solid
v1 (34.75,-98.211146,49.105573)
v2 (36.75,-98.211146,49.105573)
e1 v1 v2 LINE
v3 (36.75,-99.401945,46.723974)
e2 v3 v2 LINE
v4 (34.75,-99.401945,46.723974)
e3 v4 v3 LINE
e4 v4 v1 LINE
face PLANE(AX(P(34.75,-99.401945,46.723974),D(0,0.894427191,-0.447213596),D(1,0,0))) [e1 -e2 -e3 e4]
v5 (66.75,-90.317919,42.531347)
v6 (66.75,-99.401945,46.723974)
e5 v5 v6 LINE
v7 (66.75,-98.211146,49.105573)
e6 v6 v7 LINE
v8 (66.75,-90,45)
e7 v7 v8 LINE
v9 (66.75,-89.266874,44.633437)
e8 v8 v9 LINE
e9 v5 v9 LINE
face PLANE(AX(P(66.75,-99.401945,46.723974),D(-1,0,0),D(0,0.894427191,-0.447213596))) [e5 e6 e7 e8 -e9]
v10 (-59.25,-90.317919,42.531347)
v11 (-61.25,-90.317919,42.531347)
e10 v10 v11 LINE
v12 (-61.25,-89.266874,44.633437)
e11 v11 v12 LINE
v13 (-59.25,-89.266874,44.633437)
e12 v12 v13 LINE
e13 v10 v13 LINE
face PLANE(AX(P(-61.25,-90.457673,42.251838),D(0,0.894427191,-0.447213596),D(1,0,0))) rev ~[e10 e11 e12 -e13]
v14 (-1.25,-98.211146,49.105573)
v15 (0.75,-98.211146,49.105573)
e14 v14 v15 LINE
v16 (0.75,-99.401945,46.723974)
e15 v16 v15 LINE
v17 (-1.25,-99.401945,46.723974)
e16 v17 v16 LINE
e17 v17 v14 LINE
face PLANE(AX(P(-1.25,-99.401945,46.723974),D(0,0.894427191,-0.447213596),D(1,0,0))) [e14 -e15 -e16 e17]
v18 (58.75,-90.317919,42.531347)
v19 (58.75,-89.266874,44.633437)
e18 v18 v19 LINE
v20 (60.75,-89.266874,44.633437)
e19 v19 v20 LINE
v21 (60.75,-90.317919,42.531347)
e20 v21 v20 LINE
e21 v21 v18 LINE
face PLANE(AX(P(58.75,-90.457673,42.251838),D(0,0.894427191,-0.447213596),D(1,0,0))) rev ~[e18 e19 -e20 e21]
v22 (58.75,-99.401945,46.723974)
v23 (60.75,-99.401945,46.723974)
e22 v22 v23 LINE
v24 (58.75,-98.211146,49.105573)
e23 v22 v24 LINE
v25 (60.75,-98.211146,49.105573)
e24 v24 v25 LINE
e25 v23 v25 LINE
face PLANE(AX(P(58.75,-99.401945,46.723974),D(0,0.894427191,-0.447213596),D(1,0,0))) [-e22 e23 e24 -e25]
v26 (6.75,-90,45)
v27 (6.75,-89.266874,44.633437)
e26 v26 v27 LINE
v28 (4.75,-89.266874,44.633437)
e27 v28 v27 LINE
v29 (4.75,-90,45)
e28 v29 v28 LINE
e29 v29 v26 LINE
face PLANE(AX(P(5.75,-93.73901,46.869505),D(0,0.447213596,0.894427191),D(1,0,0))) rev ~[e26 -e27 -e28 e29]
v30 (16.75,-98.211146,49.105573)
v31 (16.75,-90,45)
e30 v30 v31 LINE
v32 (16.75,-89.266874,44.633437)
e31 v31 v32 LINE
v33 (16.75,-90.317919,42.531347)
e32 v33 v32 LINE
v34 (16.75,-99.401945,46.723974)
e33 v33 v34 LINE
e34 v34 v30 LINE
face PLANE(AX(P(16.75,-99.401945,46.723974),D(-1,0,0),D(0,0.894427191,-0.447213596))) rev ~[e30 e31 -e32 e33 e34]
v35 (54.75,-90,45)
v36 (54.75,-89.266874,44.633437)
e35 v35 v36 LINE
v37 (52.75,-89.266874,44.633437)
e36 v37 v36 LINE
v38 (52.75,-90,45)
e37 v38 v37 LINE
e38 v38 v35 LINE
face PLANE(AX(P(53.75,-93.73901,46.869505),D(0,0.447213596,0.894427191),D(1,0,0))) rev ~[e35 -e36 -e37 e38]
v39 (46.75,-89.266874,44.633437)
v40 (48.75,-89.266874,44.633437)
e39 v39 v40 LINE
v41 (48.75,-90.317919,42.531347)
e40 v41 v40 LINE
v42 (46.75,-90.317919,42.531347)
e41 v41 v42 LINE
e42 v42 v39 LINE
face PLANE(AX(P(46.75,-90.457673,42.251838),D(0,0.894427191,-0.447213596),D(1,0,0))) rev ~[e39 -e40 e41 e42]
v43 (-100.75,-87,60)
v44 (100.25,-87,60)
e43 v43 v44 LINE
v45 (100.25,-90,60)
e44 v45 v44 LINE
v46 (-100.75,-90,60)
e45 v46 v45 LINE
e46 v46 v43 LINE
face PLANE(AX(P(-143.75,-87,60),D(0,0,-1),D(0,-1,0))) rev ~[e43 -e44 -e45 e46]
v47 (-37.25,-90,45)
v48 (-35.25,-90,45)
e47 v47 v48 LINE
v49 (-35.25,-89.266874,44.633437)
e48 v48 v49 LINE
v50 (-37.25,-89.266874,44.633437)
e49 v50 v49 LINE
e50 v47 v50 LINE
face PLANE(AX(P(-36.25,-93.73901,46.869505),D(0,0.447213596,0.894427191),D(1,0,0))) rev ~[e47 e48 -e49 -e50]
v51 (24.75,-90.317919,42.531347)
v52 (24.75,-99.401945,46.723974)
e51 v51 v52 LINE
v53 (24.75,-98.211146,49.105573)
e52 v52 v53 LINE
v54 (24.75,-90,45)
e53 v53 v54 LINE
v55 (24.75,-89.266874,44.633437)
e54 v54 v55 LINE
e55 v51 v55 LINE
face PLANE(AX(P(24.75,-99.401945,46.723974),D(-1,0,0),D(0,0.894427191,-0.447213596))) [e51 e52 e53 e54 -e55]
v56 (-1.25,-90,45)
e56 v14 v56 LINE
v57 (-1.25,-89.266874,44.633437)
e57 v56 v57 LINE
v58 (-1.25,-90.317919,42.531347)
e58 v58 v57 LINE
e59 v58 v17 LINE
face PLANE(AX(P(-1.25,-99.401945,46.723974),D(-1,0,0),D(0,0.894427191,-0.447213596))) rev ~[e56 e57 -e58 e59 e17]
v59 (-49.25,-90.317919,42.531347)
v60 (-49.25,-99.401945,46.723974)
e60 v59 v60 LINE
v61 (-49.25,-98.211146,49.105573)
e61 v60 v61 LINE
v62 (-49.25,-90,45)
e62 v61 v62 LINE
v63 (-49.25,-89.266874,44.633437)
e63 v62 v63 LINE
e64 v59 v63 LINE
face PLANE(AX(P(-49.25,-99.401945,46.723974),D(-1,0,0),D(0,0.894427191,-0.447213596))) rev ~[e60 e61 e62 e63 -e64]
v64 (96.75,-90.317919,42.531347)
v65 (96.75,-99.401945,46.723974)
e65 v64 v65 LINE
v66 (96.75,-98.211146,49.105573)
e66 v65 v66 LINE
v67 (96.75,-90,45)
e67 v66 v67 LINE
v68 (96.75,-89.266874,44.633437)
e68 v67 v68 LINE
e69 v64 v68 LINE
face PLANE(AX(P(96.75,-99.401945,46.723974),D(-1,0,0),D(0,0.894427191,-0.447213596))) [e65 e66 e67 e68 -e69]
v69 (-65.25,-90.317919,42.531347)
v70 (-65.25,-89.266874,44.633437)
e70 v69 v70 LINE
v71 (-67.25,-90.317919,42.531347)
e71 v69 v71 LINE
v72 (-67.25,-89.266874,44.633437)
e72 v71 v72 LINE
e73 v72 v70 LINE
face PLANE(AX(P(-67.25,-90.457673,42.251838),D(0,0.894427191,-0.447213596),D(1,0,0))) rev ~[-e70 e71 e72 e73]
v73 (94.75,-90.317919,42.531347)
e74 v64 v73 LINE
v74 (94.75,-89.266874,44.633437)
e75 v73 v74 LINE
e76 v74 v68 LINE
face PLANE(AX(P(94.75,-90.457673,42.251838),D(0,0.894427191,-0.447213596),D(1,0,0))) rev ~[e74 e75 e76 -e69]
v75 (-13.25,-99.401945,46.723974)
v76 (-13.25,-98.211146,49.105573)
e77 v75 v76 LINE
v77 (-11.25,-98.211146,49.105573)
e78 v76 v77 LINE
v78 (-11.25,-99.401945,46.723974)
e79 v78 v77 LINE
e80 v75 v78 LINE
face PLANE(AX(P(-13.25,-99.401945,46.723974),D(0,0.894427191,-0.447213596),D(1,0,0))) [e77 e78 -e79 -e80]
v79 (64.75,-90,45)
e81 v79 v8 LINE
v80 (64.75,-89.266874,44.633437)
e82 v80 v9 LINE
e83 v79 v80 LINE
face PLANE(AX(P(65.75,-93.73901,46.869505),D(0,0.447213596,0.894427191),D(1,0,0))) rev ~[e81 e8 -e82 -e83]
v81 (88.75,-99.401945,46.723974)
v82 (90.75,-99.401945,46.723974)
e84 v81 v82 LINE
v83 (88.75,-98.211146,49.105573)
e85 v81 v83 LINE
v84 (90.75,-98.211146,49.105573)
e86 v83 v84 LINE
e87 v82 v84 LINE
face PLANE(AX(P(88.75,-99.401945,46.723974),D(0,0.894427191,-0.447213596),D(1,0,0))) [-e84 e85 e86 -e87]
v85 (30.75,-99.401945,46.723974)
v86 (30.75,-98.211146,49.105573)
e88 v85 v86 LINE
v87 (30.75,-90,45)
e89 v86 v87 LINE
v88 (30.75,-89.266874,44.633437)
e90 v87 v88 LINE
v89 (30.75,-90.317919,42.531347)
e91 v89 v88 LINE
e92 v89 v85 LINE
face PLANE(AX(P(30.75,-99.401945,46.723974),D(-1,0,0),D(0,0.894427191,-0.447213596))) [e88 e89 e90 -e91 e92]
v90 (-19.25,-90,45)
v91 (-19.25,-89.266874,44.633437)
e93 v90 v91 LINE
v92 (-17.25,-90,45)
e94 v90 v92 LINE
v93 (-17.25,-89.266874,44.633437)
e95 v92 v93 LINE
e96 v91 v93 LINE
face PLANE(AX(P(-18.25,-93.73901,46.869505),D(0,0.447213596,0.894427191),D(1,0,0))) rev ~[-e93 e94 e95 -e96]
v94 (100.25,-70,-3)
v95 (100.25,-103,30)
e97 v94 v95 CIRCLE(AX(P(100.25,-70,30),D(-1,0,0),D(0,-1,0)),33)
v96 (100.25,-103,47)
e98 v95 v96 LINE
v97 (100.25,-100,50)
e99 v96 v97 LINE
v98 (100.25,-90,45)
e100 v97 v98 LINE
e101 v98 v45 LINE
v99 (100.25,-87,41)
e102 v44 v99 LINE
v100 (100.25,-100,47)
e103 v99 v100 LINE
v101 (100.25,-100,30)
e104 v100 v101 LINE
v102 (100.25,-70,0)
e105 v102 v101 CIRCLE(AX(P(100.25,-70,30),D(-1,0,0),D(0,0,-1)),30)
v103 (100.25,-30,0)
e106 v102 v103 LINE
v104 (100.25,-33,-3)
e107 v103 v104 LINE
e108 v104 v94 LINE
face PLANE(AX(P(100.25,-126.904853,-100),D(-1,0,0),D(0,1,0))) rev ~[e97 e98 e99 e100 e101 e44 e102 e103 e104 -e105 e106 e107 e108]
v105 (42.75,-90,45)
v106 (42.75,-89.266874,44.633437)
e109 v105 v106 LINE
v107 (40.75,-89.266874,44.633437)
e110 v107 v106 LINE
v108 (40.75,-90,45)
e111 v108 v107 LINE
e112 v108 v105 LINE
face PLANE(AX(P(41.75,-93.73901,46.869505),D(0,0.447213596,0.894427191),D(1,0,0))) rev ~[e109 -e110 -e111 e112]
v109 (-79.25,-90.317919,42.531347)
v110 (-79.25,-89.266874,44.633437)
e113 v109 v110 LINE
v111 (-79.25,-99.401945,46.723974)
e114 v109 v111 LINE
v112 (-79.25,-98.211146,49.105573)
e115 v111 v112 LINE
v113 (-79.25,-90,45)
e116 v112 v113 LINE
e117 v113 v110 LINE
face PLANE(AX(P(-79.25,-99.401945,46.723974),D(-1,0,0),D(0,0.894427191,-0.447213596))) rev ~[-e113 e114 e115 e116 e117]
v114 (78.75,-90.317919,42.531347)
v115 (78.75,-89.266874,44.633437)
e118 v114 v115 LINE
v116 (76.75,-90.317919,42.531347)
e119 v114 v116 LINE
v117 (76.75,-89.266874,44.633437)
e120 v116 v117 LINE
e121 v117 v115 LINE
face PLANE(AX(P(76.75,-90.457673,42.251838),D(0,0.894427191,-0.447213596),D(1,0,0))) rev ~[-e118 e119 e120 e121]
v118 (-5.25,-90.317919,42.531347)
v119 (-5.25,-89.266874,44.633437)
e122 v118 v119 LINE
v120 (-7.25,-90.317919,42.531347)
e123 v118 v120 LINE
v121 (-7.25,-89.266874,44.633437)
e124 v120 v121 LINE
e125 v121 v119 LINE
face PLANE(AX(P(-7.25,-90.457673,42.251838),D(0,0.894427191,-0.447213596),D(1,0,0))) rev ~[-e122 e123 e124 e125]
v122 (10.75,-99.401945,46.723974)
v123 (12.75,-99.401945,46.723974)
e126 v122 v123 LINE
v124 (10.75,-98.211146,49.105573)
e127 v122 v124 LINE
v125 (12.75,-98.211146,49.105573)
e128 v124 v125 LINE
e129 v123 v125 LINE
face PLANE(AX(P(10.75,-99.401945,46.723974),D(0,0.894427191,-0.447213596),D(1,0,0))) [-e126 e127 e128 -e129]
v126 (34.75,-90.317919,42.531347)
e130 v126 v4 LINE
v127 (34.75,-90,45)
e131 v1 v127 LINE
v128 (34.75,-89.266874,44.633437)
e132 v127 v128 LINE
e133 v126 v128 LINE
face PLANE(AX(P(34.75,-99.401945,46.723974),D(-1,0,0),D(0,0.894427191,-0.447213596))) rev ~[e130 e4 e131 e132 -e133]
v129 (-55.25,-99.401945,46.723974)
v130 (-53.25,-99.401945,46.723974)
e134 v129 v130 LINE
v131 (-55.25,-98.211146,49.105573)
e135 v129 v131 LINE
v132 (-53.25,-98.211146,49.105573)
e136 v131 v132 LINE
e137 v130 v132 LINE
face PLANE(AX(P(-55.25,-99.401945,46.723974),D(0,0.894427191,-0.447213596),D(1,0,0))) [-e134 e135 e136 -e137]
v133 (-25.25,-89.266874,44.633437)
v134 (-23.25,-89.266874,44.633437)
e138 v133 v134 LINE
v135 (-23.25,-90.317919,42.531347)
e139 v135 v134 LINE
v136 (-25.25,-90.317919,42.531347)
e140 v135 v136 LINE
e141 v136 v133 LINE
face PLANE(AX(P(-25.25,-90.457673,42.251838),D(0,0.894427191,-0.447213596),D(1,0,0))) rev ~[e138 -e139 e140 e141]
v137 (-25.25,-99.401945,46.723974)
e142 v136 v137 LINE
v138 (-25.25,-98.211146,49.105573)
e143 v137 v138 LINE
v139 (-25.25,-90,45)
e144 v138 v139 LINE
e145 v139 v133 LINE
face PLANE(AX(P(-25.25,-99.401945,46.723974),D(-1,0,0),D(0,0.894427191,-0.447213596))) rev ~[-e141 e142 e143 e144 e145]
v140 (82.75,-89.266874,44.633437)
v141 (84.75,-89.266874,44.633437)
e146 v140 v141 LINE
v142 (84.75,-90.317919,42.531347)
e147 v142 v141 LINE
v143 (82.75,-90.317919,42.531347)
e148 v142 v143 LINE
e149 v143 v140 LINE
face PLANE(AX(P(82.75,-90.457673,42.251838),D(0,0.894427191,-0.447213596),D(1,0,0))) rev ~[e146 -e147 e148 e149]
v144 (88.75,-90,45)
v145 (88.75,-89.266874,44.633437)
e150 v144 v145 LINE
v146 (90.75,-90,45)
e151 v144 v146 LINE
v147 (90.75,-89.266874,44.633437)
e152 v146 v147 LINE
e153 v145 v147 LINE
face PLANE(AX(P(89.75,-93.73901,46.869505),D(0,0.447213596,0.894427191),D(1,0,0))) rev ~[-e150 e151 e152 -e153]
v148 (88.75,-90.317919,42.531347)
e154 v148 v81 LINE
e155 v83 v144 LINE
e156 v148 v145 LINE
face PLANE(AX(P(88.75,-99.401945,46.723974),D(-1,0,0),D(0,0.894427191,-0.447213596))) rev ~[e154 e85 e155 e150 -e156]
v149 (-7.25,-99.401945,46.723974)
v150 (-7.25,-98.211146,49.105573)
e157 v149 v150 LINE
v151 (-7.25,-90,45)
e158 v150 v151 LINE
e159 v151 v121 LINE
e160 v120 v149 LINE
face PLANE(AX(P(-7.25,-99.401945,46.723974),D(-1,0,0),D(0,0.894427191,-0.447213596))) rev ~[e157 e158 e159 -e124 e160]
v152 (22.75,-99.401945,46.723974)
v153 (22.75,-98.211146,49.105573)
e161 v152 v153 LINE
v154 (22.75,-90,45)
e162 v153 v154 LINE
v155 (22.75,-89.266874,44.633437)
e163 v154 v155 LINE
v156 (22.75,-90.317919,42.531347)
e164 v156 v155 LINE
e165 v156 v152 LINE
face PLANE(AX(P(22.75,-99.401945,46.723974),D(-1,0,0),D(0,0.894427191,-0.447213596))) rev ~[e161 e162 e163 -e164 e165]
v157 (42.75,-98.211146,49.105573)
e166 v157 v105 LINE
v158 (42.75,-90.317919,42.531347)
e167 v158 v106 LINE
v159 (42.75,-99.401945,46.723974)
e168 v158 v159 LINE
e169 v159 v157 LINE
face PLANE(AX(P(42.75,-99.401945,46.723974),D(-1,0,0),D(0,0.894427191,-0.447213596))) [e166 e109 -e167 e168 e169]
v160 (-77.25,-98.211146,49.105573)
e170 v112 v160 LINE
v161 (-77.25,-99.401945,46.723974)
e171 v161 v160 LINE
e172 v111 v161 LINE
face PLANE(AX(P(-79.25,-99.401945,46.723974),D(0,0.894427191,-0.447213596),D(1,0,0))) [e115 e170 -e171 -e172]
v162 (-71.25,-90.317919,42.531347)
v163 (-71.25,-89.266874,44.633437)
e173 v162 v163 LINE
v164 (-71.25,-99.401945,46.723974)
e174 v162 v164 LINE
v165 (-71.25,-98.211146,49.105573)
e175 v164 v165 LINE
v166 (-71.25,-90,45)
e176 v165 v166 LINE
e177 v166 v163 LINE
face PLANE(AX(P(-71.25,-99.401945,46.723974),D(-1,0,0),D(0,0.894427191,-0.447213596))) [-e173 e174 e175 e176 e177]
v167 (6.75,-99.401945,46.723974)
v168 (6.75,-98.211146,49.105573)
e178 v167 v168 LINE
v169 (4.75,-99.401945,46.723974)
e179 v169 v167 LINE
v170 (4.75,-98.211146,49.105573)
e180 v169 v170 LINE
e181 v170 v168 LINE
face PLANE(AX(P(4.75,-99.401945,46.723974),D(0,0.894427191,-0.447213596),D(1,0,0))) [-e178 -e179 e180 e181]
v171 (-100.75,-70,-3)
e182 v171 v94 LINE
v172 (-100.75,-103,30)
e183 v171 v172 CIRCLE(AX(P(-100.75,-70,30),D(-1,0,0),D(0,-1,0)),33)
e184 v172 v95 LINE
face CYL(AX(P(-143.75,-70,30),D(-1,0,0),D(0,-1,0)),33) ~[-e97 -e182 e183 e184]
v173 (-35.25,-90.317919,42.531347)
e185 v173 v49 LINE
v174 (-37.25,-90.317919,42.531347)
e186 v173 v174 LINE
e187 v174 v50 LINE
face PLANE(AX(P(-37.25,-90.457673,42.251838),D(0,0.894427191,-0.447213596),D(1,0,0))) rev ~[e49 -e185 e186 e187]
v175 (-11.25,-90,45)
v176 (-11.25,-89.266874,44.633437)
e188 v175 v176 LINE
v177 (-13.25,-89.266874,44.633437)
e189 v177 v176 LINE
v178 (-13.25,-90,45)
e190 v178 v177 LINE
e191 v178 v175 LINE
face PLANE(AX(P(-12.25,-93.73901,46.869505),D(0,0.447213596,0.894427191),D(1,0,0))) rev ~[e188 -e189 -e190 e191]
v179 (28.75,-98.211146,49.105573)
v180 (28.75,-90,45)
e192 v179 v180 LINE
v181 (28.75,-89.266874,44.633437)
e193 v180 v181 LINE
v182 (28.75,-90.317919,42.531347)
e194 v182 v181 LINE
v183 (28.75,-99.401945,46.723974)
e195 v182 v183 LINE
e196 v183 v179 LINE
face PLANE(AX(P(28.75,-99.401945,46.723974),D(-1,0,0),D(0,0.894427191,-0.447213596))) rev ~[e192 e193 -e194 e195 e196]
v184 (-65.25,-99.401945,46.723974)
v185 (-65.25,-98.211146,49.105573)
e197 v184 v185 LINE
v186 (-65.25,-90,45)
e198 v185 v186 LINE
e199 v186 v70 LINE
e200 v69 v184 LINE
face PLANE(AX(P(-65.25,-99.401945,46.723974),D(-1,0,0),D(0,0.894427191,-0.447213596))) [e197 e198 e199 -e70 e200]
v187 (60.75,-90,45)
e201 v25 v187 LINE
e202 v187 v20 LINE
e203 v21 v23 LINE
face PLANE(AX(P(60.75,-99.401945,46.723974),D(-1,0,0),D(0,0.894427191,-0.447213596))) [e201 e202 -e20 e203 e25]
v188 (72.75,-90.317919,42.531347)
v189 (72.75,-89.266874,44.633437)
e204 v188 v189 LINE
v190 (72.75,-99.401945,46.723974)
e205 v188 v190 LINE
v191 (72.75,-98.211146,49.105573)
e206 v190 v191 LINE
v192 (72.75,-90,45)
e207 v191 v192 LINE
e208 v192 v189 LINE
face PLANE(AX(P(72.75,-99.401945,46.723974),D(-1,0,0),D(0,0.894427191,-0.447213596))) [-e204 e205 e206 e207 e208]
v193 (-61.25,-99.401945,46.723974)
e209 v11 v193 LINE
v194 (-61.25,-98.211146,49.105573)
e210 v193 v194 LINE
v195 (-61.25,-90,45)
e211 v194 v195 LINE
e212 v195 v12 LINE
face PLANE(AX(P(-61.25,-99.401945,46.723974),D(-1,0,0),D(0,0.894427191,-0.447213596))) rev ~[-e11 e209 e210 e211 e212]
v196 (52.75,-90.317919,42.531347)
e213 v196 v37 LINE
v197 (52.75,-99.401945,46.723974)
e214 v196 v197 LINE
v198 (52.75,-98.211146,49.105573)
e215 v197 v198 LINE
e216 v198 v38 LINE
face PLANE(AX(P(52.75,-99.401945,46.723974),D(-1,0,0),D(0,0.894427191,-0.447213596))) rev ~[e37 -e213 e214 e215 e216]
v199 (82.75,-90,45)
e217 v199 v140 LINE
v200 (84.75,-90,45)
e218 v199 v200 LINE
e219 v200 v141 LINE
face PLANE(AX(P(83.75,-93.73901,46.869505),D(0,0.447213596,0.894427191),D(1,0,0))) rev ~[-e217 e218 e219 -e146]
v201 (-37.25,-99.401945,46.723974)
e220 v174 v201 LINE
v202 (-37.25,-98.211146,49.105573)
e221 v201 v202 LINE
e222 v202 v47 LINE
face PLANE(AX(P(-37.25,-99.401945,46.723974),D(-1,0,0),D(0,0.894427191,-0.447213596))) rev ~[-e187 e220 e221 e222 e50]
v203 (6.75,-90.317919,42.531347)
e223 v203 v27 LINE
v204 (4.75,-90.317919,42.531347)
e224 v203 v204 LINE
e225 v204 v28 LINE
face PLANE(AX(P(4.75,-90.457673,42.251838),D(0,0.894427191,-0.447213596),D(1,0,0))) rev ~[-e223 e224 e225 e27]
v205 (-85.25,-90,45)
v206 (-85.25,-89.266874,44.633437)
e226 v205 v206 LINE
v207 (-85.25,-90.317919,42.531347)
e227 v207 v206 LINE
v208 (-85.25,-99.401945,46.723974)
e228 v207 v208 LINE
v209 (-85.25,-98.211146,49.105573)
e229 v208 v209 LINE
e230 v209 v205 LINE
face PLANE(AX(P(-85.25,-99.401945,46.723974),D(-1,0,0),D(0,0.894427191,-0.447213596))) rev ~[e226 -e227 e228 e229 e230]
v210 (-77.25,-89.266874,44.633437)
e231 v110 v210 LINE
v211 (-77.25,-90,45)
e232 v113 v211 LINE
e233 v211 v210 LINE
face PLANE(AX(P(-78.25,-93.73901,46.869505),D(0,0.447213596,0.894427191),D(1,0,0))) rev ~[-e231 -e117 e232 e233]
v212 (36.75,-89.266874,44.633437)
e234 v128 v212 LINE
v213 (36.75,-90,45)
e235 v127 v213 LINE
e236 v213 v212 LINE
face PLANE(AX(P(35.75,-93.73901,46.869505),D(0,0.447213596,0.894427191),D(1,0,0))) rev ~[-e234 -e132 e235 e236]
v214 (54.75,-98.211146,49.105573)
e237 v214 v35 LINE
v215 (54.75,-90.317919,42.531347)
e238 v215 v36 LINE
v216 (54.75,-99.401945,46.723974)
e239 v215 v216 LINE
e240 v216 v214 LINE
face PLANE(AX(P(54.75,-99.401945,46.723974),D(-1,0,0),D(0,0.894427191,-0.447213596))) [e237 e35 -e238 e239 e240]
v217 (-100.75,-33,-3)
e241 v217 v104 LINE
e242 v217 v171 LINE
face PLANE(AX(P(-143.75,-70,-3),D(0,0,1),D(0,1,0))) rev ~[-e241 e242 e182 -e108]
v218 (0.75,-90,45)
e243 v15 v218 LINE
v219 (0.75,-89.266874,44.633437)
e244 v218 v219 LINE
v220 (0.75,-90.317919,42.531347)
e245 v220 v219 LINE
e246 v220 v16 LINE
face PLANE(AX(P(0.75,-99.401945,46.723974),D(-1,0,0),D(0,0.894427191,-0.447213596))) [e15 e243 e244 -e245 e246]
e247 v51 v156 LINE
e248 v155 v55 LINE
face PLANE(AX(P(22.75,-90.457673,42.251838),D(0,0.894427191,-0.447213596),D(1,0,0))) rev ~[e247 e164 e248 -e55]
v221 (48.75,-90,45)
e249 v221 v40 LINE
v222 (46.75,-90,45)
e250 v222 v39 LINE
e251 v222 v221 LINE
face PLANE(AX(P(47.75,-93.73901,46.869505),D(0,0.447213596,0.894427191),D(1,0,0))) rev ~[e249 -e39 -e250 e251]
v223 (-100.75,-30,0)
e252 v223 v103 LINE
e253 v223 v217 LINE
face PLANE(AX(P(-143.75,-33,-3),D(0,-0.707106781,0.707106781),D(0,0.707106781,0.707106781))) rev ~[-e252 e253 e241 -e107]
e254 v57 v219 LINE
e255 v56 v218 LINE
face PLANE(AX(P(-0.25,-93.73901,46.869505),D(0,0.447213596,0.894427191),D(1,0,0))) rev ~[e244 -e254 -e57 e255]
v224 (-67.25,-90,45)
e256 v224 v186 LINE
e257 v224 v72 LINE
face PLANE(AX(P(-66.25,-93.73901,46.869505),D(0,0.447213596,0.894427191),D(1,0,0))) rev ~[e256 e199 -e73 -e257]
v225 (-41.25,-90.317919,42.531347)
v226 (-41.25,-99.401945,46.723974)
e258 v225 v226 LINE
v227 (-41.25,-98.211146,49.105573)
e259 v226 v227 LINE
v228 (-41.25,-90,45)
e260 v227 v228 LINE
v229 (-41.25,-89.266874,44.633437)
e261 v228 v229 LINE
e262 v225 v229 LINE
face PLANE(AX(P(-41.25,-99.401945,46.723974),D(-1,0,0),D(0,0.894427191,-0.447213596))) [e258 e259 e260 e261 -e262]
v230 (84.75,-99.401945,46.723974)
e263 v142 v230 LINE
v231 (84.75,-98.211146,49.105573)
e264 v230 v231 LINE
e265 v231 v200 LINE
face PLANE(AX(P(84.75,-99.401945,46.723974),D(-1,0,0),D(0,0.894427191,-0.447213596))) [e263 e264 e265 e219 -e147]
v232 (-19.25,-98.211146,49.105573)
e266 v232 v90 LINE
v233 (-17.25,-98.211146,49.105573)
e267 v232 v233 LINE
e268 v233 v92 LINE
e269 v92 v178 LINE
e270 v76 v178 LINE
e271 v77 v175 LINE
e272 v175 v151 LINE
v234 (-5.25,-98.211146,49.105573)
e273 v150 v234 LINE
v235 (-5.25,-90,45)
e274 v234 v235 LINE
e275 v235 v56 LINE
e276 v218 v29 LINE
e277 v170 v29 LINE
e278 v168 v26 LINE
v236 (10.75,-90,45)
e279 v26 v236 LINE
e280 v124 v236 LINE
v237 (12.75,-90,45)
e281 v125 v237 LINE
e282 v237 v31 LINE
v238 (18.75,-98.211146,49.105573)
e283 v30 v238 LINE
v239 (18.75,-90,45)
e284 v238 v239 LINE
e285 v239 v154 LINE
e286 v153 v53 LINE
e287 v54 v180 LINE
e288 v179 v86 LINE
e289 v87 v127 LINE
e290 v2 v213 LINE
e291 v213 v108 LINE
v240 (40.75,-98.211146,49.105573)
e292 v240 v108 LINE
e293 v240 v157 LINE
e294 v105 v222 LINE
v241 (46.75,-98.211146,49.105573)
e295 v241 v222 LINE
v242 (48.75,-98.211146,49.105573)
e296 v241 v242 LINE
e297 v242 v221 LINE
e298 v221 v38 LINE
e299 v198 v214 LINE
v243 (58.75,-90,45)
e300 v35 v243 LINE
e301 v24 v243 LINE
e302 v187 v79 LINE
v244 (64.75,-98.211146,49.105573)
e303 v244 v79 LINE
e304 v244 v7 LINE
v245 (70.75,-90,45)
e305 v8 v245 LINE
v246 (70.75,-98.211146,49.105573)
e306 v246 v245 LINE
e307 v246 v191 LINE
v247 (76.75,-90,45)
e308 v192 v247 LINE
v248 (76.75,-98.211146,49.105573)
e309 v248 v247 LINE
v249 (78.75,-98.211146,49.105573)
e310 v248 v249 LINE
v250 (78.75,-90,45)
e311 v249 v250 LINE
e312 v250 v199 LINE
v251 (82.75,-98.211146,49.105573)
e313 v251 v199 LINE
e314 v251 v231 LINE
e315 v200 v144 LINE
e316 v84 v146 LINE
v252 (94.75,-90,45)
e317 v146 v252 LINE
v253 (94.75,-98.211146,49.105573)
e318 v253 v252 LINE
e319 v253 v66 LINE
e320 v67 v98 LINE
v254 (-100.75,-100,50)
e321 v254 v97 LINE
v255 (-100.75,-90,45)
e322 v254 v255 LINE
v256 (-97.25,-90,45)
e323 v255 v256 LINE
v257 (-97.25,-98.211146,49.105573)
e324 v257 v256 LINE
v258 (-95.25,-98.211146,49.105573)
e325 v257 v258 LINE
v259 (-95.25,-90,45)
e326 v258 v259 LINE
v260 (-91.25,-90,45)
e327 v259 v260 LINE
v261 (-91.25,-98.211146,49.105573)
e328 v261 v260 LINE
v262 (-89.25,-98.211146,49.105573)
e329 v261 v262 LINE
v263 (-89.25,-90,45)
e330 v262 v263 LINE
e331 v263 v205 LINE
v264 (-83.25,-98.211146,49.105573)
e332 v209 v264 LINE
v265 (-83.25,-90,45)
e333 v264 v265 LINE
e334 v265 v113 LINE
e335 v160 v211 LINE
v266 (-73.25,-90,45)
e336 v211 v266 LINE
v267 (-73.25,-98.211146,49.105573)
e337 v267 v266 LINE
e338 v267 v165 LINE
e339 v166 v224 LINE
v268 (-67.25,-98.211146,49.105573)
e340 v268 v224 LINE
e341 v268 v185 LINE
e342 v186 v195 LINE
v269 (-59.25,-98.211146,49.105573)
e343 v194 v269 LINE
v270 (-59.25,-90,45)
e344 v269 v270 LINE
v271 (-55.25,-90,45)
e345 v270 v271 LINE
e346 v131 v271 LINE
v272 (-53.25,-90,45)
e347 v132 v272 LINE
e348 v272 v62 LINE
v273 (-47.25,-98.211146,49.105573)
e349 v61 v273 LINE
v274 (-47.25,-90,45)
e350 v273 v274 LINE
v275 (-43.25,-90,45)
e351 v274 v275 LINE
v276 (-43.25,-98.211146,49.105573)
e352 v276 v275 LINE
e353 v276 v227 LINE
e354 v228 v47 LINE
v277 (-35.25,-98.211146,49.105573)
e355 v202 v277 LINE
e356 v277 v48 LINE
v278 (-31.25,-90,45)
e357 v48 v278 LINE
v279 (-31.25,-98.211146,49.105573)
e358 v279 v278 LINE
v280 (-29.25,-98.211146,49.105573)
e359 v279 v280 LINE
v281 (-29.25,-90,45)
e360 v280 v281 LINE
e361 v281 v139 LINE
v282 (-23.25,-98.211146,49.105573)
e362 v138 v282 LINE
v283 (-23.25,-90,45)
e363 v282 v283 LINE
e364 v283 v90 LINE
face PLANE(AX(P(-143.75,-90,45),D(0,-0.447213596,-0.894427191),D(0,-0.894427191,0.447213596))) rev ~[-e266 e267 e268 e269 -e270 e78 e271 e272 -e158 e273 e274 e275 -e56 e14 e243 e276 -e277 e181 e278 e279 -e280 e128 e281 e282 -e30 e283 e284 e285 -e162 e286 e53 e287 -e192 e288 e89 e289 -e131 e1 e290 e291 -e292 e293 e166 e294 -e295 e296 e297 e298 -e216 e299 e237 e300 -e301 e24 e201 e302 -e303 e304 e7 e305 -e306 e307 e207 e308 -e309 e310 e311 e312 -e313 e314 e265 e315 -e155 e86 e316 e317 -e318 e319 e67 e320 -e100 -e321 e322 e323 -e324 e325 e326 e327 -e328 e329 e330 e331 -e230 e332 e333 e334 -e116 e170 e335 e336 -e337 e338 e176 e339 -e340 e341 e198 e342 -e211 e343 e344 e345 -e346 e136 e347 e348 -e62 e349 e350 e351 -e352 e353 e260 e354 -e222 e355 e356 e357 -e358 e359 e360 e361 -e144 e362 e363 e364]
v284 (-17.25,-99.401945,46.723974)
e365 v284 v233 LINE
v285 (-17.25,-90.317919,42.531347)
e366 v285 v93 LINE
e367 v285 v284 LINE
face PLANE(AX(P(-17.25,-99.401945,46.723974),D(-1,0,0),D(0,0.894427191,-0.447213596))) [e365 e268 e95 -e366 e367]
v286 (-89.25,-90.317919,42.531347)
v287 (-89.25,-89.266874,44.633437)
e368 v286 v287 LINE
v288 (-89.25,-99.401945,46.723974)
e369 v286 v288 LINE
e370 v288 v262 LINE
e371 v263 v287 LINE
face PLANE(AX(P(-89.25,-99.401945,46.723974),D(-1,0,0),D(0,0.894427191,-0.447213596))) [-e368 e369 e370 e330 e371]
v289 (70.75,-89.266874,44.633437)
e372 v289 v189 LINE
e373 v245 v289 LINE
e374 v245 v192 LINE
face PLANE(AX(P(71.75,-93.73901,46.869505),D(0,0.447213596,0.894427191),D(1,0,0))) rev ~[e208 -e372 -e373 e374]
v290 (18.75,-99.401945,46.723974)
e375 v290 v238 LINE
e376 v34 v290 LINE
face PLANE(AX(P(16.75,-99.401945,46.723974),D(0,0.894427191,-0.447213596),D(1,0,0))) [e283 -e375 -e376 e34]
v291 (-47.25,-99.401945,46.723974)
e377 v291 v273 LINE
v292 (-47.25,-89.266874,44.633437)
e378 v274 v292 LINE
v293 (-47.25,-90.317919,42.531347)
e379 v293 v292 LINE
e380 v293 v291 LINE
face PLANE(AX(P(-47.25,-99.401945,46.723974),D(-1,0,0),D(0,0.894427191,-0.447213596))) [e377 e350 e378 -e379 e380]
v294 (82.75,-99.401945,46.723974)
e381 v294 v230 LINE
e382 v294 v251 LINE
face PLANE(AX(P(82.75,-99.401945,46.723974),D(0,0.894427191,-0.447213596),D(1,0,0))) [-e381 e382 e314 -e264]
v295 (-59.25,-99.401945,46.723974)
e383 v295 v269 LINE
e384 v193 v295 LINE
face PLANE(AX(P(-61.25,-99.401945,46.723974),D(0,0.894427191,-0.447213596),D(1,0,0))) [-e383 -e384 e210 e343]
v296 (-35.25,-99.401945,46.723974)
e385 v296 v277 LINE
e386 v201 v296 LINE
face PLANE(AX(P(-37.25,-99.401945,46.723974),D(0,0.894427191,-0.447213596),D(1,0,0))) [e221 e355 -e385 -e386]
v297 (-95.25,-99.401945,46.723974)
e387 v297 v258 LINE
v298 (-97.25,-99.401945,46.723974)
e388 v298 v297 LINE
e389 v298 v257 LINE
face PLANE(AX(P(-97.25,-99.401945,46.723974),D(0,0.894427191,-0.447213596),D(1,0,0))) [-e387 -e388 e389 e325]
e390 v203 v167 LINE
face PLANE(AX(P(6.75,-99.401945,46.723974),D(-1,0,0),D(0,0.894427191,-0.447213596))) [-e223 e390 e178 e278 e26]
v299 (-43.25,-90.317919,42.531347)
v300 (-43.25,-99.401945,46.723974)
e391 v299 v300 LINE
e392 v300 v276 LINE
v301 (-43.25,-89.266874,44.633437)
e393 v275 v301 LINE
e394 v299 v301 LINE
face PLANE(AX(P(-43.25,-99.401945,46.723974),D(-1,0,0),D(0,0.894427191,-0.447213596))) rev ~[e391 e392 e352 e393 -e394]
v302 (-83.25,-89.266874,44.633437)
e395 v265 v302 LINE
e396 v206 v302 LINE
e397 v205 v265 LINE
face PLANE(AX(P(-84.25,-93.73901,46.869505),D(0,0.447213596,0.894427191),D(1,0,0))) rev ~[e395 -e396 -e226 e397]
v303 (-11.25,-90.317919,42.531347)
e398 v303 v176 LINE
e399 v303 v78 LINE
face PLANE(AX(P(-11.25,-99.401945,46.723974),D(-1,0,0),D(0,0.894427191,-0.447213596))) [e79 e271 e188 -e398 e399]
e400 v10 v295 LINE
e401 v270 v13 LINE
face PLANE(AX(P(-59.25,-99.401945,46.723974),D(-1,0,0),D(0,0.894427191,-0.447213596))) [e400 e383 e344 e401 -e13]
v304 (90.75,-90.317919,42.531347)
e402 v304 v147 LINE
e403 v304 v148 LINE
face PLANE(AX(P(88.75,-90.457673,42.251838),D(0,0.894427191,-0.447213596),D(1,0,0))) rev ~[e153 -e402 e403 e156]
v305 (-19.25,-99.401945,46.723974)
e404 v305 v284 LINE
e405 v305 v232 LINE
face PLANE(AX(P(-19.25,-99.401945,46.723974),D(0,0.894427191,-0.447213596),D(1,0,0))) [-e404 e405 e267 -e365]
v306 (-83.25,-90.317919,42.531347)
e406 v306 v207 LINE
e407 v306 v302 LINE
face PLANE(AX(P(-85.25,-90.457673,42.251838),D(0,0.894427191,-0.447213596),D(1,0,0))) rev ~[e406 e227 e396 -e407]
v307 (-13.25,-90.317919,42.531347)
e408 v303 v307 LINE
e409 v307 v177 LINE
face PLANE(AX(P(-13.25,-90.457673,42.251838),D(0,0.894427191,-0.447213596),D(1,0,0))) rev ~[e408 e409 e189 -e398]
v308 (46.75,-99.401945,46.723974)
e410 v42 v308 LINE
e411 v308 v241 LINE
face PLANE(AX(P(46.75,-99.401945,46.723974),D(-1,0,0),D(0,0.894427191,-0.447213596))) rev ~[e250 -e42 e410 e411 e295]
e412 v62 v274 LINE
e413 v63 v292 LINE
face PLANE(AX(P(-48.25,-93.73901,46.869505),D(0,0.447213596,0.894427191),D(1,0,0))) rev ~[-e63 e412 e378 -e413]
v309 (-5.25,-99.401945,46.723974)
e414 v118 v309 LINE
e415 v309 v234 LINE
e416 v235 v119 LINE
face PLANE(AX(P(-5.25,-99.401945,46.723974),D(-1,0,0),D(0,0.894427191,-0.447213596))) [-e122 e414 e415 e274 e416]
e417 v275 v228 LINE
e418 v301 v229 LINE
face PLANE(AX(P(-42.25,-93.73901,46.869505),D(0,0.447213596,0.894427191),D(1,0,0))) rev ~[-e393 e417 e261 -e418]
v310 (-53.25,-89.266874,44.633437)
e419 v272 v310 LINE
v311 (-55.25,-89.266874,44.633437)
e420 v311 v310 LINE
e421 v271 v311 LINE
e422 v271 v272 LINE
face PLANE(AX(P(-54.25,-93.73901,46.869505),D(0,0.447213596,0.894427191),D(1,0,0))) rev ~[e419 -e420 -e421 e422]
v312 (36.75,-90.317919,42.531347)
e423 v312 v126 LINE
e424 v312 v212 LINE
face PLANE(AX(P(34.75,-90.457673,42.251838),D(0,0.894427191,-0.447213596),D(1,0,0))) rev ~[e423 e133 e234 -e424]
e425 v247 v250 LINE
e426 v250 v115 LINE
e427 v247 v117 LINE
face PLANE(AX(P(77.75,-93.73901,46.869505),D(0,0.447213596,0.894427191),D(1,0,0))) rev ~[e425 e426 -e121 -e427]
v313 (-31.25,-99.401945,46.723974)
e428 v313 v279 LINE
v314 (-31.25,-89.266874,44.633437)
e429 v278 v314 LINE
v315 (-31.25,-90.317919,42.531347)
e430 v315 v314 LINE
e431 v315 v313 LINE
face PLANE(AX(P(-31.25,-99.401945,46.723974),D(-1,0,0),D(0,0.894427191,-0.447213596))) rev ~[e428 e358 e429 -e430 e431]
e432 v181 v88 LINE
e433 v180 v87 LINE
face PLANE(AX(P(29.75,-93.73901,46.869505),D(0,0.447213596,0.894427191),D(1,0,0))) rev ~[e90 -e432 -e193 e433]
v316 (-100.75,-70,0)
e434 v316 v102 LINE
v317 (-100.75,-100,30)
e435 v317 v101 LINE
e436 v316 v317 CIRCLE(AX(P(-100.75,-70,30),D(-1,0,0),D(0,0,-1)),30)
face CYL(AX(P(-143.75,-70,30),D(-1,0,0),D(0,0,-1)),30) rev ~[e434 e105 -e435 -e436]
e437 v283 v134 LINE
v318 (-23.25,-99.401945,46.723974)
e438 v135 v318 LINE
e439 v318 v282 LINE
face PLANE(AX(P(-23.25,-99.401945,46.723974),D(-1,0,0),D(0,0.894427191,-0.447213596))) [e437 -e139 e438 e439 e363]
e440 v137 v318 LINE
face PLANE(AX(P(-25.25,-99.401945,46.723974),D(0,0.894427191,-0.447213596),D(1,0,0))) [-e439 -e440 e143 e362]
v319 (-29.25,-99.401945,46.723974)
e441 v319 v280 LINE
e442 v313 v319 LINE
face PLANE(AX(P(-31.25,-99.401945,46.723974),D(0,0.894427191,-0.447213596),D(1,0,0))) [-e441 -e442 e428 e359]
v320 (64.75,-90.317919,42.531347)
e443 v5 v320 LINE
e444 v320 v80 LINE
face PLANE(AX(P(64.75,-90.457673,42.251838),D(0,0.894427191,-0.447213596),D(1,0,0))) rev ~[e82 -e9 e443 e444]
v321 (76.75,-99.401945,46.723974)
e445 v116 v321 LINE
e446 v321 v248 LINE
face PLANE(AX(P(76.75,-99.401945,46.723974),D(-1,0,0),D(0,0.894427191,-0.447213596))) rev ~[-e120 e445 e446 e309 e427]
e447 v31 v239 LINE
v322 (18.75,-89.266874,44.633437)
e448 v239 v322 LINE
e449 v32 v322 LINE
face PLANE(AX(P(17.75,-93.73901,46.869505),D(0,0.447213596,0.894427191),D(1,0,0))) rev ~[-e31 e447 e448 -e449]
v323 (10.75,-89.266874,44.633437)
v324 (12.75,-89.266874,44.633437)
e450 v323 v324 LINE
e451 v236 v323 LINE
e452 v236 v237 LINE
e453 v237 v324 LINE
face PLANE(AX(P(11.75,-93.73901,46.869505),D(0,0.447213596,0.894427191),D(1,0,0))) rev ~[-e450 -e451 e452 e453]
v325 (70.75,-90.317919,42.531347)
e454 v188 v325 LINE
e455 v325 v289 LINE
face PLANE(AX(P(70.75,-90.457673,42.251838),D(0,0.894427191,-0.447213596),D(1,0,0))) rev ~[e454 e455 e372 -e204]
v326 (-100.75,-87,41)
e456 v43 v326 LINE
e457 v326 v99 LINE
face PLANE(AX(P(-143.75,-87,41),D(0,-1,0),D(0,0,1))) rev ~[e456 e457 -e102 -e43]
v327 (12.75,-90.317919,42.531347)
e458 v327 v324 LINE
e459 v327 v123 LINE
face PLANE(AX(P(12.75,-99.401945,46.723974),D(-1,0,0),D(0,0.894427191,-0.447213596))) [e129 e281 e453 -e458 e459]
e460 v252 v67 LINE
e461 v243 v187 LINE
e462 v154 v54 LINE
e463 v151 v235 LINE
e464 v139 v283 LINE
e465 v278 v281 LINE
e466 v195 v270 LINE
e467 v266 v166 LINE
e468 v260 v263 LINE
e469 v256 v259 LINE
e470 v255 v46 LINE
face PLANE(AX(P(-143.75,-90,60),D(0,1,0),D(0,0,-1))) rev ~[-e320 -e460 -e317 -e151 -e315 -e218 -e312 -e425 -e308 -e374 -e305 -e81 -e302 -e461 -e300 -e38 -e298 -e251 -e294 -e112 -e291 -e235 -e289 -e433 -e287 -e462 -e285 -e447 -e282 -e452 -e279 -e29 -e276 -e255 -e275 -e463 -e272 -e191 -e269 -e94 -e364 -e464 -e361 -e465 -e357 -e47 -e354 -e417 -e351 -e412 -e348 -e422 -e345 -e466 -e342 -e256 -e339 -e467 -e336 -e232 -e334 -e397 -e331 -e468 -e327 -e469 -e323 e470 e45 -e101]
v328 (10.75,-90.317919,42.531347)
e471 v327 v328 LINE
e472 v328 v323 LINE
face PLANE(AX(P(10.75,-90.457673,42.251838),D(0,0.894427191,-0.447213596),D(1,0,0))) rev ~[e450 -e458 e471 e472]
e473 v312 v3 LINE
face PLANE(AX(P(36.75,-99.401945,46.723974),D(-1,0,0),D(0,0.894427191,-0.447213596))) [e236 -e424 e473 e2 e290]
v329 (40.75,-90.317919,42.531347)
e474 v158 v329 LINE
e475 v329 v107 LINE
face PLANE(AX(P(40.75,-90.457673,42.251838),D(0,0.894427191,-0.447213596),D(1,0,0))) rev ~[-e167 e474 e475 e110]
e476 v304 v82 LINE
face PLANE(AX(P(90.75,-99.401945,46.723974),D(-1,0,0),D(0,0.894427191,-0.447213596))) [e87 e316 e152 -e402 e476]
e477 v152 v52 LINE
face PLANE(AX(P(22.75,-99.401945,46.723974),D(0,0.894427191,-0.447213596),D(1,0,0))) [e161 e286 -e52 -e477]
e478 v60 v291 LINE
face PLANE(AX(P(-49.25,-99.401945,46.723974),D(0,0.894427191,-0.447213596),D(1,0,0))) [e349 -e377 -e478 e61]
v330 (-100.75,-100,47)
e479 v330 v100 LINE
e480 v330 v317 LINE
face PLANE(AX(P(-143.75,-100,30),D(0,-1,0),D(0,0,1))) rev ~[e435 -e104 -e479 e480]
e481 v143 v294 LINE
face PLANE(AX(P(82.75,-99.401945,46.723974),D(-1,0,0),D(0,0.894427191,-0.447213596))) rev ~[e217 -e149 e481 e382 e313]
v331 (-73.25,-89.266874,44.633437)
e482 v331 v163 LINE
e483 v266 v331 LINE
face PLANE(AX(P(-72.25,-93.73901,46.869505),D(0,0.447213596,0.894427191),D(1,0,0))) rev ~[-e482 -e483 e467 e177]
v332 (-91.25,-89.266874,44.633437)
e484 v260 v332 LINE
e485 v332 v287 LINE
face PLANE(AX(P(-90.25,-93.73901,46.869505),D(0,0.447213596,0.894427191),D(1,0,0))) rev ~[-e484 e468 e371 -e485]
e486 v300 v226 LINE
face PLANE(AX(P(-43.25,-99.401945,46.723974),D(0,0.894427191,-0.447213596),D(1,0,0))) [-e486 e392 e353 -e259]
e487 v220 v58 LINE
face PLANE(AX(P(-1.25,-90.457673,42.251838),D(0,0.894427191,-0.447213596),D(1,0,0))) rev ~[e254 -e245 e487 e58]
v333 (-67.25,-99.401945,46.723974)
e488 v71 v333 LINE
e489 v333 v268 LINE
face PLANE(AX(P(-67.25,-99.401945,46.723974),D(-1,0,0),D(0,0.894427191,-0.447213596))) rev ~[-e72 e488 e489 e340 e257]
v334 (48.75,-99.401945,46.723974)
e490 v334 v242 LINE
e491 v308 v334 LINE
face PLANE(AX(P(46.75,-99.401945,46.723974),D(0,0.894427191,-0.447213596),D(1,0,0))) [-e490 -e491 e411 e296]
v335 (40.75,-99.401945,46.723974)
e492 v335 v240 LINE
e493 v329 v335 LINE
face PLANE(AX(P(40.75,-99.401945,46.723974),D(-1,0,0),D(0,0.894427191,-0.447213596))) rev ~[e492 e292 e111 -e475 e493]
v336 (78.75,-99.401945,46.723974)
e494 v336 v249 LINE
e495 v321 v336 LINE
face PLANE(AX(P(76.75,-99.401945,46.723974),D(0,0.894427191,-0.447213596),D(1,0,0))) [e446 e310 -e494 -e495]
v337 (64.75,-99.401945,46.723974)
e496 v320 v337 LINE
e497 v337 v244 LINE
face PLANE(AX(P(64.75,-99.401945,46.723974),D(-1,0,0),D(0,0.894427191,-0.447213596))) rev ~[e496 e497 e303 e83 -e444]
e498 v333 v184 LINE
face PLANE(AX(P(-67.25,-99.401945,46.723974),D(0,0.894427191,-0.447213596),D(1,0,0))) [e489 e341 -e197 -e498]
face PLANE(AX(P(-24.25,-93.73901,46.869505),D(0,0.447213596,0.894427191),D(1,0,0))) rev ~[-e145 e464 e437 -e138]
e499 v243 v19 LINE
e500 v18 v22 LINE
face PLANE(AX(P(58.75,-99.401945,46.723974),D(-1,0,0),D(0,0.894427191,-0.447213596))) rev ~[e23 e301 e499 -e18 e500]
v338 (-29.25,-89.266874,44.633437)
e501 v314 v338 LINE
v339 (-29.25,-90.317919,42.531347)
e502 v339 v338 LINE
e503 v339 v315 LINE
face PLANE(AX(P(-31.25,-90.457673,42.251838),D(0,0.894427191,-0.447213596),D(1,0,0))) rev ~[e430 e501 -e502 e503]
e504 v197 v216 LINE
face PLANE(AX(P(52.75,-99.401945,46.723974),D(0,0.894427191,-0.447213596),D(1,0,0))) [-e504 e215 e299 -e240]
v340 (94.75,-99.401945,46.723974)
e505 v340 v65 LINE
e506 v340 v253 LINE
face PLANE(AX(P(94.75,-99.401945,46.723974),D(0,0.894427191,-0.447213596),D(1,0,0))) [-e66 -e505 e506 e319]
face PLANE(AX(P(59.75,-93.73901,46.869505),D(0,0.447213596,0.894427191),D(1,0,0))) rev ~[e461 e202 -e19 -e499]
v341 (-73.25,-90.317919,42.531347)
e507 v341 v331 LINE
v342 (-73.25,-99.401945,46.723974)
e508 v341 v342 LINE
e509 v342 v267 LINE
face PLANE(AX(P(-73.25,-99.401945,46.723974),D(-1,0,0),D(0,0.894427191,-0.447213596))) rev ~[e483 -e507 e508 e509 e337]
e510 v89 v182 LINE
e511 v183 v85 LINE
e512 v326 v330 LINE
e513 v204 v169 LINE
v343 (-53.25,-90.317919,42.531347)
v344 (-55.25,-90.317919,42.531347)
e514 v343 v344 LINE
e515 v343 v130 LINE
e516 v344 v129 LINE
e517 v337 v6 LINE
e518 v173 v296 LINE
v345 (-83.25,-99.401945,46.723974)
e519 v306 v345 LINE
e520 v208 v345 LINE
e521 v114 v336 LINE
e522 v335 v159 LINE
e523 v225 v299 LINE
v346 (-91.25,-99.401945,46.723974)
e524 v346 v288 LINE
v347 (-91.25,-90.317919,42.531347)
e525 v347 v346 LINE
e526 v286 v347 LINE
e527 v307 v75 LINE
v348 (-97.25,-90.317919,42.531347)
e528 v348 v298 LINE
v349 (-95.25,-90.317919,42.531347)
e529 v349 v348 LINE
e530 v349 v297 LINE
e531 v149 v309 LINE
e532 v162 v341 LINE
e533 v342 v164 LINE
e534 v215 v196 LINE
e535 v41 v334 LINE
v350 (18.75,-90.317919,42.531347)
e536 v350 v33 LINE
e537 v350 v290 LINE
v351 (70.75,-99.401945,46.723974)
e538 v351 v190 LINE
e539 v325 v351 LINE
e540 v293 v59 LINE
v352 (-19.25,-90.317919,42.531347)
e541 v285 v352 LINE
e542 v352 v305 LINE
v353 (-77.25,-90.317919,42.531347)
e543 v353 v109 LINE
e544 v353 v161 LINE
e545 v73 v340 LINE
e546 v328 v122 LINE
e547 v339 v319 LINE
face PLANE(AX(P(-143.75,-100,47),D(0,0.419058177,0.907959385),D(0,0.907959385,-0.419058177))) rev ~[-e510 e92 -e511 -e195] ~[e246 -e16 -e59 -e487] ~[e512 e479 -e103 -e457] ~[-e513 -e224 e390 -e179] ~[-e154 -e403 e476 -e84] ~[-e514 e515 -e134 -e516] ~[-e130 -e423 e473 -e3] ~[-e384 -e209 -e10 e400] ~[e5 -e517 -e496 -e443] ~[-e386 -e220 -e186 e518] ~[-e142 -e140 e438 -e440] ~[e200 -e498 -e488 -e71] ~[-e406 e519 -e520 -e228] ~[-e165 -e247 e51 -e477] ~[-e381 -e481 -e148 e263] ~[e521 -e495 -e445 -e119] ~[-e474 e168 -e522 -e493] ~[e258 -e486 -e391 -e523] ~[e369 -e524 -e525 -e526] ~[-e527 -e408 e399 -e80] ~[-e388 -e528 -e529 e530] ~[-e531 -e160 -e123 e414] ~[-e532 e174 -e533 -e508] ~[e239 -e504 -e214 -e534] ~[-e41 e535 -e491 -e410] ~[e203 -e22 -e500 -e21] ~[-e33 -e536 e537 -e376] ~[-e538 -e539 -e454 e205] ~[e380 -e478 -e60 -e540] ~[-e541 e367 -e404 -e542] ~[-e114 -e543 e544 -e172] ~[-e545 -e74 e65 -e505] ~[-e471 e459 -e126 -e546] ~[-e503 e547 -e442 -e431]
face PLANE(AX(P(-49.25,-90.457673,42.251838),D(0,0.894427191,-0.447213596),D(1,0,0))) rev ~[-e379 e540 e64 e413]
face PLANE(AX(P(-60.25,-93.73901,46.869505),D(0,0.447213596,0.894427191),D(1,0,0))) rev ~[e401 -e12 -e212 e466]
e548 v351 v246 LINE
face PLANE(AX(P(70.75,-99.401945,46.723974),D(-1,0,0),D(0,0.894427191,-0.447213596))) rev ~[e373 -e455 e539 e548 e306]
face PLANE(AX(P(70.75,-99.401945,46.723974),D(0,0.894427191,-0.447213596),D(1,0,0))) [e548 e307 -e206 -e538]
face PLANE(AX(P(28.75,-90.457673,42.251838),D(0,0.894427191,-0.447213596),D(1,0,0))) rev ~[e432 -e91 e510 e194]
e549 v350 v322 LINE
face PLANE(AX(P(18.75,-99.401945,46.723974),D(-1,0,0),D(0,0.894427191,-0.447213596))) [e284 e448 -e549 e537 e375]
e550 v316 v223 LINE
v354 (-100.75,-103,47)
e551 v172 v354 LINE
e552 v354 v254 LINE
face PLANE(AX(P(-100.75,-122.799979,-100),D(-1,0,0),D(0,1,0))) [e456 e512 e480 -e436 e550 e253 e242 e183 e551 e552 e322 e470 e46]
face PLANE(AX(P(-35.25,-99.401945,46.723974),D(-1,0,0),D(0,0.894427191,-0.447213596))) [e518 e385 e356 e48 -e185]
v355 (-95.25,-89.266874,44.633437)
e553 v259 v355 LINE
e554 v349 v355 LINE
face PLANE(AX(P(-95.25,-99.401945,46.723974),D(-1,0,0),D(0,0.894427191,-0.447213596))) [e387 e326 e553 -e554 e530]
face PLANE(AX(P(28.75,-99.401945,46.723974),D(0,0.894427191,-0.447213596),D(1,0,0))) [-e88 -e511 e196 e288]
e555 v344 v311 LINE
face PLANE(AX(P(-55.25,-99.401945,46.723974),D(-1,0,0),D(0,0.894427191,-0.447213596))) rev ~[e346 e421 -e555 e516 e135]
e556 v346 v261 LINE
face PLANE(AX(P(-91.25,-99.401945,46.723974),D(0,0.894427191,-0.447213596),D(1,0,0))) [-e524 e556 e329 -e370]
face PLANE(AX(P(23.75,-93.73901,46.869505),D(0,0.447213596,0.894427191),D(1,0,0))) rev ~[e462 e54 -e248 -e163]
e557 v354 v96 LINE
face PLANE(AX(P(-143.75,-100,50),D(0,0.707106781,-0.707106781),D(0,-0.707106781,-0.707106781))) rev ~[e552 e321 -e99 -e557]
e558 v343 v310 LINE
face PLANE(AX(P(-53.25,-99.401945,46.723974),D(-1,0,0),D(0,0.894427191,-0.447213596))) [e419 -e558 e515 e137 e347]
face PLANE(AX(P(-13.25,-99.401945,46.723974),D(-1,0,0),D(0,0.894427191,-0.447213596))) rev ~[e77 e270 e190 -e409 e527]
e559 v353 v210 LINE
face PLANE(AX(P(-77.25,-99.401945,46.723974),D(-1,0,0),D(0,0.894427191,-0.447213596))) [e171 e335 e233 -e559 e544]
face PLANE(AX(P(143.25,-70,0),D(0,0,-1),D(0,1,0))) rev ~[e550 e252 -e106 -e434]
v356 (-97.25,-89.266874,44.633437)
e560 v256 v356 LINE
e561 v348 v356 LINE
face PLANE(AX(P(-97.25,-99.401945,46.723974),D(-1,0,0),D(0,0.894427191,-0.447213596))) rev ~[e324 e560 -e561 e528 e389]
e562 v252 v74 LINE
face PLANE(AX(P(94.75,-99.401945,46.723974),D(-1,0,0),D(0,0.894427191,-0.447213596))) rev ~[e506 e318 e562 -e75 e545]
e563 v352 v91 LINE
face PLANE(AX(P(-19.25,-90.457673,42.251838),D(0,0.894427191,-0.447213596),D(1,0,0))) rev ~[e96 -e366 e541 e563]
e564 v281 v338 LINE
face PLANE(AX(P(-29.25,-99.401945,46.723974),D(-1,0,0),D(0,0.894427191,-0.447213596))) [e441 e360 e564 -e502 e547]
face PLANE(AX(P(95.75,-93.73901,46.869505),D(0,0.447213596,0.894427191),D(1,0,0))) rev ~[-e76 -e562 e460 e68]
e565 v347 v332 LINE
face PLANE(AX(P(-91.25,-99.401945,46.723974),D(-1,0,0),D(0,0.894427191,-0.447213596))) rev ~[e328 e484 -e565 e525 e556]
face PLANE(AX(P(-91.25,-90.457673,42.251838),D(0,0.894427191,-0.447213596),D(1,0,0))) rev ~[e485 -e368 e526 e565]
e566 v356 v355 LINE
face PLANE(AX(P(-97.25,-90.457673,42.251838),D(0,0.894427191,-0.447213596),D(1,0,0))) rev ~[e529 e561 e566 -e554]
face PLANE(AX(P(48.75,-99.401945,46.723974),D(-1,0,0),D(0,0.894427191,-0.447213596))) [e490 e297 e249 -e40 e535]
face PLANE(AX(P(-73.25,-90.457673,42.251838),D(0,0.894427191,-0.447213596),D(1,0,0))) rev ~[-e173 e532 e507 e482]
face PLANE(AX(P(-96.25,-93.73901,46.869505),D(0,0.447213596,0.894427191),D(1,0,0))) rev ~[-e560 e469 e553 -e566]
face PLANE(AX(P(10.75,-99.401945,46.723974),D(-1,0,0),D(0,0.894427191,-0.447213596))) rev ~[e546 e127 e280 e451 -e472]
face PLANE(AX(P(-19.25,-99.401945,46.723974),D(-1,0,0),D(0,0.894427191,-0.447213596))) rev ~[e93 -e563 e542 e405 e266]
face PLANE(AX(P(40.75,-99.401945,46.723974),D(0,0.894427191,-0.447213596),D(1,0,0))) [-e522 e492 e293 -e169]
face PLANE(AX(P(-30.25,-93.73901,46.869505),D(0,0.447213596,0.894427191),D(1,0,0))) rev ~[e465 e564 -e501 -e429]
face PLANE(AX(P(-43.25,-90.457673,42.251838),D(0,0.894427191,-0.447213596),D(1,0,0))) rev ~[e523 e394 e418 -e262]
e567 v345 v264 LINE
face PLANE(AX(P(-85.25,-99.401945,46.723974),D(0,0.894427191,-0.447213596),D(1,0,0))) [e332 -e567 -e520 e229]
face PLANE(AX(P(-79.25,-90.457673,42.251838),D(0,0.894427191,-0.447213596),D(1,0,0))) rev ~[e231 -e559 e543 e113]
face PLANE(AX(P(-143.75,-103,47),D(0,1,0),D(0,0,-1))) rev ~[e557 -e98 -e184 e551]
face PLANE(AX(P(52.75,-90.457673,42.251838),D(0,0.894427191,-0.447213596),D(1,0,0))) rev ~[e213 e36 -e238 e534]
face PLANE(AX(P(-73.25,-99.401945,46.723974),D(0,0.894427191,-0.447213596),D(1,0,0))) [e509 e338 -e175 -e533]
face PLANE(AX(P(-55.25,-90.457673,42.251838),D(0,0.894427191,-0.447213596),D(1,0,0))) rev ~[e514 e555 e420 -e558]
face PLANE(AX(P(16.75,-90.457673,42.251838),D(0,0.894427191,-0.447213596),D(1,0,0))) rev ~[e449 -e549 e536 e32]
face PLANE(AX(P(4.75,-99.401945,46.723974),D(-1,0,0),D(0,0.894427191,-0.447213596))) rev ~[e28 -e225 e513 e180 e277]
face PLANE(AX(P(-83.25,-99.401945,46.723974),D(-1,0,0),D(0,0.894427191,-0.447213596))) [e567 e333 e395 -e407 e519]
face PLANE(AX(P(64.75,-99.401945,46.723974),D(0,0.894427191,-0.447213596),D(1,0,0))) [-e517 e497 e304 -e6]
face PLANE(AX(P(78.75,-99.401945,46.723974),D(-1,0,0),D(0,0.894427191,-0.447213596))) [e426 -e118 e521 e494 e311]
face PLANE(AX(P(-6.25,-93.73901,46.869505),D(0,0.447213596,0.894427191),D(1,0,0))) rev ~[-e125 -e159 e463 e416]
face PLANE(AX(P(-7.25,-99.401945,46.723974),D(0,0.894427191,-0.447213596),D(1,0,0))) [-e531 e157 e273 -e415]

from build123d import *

# Parameters (mm, degrees)
EXTRUDE_1_DEPTH          = 3
EXTRUDE_2_DEPTH          = 287
CUT_EXTRUDE_6_DEPTH      = 100
CUT_EXTRUDE_6_DEPTH_BACK = 100
SKETCH_6_W               = 73.604658964
SKETCH_6_H               = 229.904852756
SKETCH_6_W_2             = 157.433287981
SKETCH_6_H_2             = 225.799979151
SKETCH_7_W               = 3
SKETCH_7_H               = 140
CUT_EXTRUDE_7_DEPTH      = 272.560306378
CUT_EXTRUDE_START        = -2.662708
SKETCH_8_W               = 2
SKETCH_8_H               = 10
CUT_EXTRUDE_8_DEPTH      = 2.662708


with BuildPart() as part:
    # 草图1 → 凸台-拉伸1 (new body)
    with BuildSketch(Plane.XY):
        Polygon((-143.75, 30), (-143.75, 70), (-105.75, 70), (-105.75, 65), (-100.25, 65), (-100.25, 70), (99.75, 70), (99.75, 65), (105.25, 65), (105.25, 70), (143.25, 70), (143.25, 30), (135.25, 30), (135.25, -30), (143.25, -30), (143.25, -70), (105.25, -70), (105.25, -65), (99.75, -65), (99.75, -70), (-100.25, -70), (-100.25, -65), (-105.75, -65), (-105.75, -70), (-143.75, -70), (-143.75, -30), (-135.75, -30), (-135.75, 30), align=None)
    extrude(amount=EXTRUDE_1_DEPTH)

    # 草图2 → 凸台-拉伸2 (add)
    with BuildSketch(Plane.ZY.offset(143.75)):
        with BuildLine():
            Line((0, 70), (0, 30))
            Line((0, 30), (-3, 33))
            Line((-3, 33), (-3, 70))
            ThreePointArc((-3, 70), (6.665476221, 93.334523779), (30, 103))
            Line((30, 103), (47, 103))
            Line((47, 103), (50, 100))
            Line((50, 100), (45, 90))
            Line((45, 90), (60, 90))
            Line((60, 90), (60, 87))
            Line((60, 87), (41, 87))
            Line((41, 87), (47, 100))
            Line((47, 100), (30, 100))
            ThreePointArc((30, 100), (8.786796564, 91.213203436), (0, 70))
        make_face()
        with BuildLine():
            Line((30, -100), (47, -100))
            Line((47, -100), (41, -87))
            Line((41, -87), (60, -87))
            Line((60, -87), (60, -90))
            Line((60, -90), (45, -90))
            Line((45, -90), (50, -100))
            Line((50, -100), (47, -103))
            Line((47, -103), (30, -103))
            ThreePointArc((30, -103), (6.665476221, -93.334523779), (-3, -70))
            Line((-3, -70), (-3, -33))
            Line((-3, -33), (0, -30))
            Line((0, -30), (0, -70))
            ThreePointArc((0, -70), (8.786796564, -91.213203436), (30, -100))
        make_face()
    extrude(amount=-EXTRUDE_2_DEPTH)

    # 草图6 → 切除-拉伸6 (cut, two sides: drawn at the far end of the back side and taken through both)
    with BuildSketch(Plane.XY.offset(-CUT_EXTRUDE_6_DEPTH_BACK)):
        with Locations((137.052329482, -11.952426378)):
            Rectangle(SKETCH_6_W, SKETCH_6_H)
        with Locations((-179.466643991, -9.899989576)):
            Rectangle(SKETCH_6_W_2, SKETCH_6_H_2)
    extrude(amount=CUT_EXTRUDE_6_DEPTH + CUT_EXTRUDE_6_DEPTH_BACK, mode=Mode.SUBTRACT)

    # 草图7 → 切除-拉伸7 (cut, through all)
    with BuildSketch(Plane(origin=(143.25, 0, 0), x_dir=(0, 0, -1), z_dir=(1, 0, 0))):
        with Locations((-1.5, 0)):
            Rectangle(SKETCH_7_W, SKETCH_7_H)
    extrude(amount=-CUT_EXTRUDE_7_DEPTH, mode=Mode.SUBTRACT)


with BuildPart() as body_2:
    # of the pieces the cut leaves, the one that is kept (cut_extrude_7_keep)
    add(part.part.solids().sort_by_distance((-100.75, -70, 0))[0])

    # 草图8 → 切除-拉伸8 (cut)
    with BuildSketch(Plane(origin=(0, 0, 0), x_dir=(1, 0, 0), z_dir=(0, 0.4472135954999584, 0.8944271909999156)).offset(CUT_EXTRUDE_START)):
        with Locations((-96.25, -104.803398875)):
            Rectangle(SKETCH_8_W, SKETCH_8_H)
        with Locations((-90.25, -104.803398875)):
            Rectangle(SKETCH_8_W, SKETCH_8_H)
        with Locations((-84.25, -104.803398875)):
            Rectangle(SKETCH_8_W, SKETCH_8_H)
        with Locations((-78.25, -104.803398875)):
            Rectangle(SKETCH_8_W, SKETCH_8_H)
        with Locations((-72.25, -104.803398875)):
            Rectangle(SKETCH_8_W, SKETCH_8_H)
        with Locations((-66.25, -104.803398875)):
            Rectangle(SKETCH_8_W, SKETCH_8_H)
        with Locations((-60.25, -104.803398875)):
            Rectangle(SKETCH_8_W, SKETCH_8_H)
        with Locations((-54.25, -104.803398875)):
            Rectangle(SKETCH_8_W, SKETCH_8_H)
        with Locations((-48.25, -104.803398875)):
            Rectangle(SKETCH_8_W, SKETCH_8_H)
        with Locations((-42.25, -104.803398875)):
            Rectangle(SKETCH_8_W, SKETCH_8_H)
        with Locations((-36.25, -104.803398875)):
            Rectangle(SKETCH_8_W, SKETCH_8_H)
        with Locations((-30.25, -104.803398875)):
            Rectangle(SKETCH_8_W, SKETCH_8_H)
        with Locations((-24.25, -104.803398875)):
            Rectangle(SKETCH_8_W, SKETCH_8_H)
        with Locations((-18.25, -104.803398875)):
            Rectangle(SKETCH_8_W, SKETCH_8_H)
        with Locations((-12.25, -104.803398875)):
            Rectangle(SKETCH_8_W, SKETCH_8_H)
        with Locations((-6.25, -104.803398875)):
            Rectangle(SKETCH_8_W, SKETCH_8_H)
        with Locations((-0.25, -104.803398875)):
            Rectangle(SKETCH_8_W, SKETCH_8_H)
        with Locations((5.75, -104.803398875)):
            Rectangle(SKETCH_8_W, SKETCH_8_H)
        with Locations((11.75, -104.803398875)):
            Rectangle(SKETCH_8_W, SKETCH_8_H)
        with Locations((17.75, -104.803398875)):
            Rectangle(SKETCH_8_W, SKETCH_8_H)
        with Locations((23.75, -104.803398875)):
            Rectangle(SKETCH_8_W, SKETCH_8_H)
        with Locations((29.75, -104.803398875)):
            Rectangle(SKETCH_8_W, SKETCH_8_H)
        with Locations((35.75, -104.803398875)):
            Rectangle(SKETCH_8_W, SKETCH_8_H)
        with Locations((41.75, -104.803398875)):
            Rectangle(SKETCH_8_W, SKETCH_8_H)
        with Locations((47.75, -104.803398875)):
            Rectangle(SKETCH_8_W, SKETCH_8_H)
        with Locations((53.75, -104.803398875)):
            Rectangle(SKETCH_8_W, SKETCH_8_H)
        with Locations((59.75, -104.803398875)):
            Rectangle(SKETCH_8_W, SKETCH_8_H)
        with Locations((65.75, -104.803398875)):
            Rectangle(SKETCH_8_W, SKETCH_8_H)
        with Locations((71.75, -104.803398875)):
            Rectangle(SKETCH_8_W, SKETCH_8_H)
        with Locations((77.75, -104.803398875)):
            Rectangle(SKETCH_8_W, SKETCH_8_H)
        with Locations((83.75, -104.803398875)):
            Rectangle(SKETCH_8_W, SKETCH_8_H)
        with Locations((89.75, -104.803398875)):
            Rectangle(SKETCH_8_W, SKETCH_8_H)
        with Locations((95.75, -104.803398875)):
            Rectangle(SKETCH_8_W, SKETCH_8_H)
    extrude(amount=CUT_EXTRUDE_8_DEPTH, mode=Mode.SUBTRACT)


solid = body_2.part
